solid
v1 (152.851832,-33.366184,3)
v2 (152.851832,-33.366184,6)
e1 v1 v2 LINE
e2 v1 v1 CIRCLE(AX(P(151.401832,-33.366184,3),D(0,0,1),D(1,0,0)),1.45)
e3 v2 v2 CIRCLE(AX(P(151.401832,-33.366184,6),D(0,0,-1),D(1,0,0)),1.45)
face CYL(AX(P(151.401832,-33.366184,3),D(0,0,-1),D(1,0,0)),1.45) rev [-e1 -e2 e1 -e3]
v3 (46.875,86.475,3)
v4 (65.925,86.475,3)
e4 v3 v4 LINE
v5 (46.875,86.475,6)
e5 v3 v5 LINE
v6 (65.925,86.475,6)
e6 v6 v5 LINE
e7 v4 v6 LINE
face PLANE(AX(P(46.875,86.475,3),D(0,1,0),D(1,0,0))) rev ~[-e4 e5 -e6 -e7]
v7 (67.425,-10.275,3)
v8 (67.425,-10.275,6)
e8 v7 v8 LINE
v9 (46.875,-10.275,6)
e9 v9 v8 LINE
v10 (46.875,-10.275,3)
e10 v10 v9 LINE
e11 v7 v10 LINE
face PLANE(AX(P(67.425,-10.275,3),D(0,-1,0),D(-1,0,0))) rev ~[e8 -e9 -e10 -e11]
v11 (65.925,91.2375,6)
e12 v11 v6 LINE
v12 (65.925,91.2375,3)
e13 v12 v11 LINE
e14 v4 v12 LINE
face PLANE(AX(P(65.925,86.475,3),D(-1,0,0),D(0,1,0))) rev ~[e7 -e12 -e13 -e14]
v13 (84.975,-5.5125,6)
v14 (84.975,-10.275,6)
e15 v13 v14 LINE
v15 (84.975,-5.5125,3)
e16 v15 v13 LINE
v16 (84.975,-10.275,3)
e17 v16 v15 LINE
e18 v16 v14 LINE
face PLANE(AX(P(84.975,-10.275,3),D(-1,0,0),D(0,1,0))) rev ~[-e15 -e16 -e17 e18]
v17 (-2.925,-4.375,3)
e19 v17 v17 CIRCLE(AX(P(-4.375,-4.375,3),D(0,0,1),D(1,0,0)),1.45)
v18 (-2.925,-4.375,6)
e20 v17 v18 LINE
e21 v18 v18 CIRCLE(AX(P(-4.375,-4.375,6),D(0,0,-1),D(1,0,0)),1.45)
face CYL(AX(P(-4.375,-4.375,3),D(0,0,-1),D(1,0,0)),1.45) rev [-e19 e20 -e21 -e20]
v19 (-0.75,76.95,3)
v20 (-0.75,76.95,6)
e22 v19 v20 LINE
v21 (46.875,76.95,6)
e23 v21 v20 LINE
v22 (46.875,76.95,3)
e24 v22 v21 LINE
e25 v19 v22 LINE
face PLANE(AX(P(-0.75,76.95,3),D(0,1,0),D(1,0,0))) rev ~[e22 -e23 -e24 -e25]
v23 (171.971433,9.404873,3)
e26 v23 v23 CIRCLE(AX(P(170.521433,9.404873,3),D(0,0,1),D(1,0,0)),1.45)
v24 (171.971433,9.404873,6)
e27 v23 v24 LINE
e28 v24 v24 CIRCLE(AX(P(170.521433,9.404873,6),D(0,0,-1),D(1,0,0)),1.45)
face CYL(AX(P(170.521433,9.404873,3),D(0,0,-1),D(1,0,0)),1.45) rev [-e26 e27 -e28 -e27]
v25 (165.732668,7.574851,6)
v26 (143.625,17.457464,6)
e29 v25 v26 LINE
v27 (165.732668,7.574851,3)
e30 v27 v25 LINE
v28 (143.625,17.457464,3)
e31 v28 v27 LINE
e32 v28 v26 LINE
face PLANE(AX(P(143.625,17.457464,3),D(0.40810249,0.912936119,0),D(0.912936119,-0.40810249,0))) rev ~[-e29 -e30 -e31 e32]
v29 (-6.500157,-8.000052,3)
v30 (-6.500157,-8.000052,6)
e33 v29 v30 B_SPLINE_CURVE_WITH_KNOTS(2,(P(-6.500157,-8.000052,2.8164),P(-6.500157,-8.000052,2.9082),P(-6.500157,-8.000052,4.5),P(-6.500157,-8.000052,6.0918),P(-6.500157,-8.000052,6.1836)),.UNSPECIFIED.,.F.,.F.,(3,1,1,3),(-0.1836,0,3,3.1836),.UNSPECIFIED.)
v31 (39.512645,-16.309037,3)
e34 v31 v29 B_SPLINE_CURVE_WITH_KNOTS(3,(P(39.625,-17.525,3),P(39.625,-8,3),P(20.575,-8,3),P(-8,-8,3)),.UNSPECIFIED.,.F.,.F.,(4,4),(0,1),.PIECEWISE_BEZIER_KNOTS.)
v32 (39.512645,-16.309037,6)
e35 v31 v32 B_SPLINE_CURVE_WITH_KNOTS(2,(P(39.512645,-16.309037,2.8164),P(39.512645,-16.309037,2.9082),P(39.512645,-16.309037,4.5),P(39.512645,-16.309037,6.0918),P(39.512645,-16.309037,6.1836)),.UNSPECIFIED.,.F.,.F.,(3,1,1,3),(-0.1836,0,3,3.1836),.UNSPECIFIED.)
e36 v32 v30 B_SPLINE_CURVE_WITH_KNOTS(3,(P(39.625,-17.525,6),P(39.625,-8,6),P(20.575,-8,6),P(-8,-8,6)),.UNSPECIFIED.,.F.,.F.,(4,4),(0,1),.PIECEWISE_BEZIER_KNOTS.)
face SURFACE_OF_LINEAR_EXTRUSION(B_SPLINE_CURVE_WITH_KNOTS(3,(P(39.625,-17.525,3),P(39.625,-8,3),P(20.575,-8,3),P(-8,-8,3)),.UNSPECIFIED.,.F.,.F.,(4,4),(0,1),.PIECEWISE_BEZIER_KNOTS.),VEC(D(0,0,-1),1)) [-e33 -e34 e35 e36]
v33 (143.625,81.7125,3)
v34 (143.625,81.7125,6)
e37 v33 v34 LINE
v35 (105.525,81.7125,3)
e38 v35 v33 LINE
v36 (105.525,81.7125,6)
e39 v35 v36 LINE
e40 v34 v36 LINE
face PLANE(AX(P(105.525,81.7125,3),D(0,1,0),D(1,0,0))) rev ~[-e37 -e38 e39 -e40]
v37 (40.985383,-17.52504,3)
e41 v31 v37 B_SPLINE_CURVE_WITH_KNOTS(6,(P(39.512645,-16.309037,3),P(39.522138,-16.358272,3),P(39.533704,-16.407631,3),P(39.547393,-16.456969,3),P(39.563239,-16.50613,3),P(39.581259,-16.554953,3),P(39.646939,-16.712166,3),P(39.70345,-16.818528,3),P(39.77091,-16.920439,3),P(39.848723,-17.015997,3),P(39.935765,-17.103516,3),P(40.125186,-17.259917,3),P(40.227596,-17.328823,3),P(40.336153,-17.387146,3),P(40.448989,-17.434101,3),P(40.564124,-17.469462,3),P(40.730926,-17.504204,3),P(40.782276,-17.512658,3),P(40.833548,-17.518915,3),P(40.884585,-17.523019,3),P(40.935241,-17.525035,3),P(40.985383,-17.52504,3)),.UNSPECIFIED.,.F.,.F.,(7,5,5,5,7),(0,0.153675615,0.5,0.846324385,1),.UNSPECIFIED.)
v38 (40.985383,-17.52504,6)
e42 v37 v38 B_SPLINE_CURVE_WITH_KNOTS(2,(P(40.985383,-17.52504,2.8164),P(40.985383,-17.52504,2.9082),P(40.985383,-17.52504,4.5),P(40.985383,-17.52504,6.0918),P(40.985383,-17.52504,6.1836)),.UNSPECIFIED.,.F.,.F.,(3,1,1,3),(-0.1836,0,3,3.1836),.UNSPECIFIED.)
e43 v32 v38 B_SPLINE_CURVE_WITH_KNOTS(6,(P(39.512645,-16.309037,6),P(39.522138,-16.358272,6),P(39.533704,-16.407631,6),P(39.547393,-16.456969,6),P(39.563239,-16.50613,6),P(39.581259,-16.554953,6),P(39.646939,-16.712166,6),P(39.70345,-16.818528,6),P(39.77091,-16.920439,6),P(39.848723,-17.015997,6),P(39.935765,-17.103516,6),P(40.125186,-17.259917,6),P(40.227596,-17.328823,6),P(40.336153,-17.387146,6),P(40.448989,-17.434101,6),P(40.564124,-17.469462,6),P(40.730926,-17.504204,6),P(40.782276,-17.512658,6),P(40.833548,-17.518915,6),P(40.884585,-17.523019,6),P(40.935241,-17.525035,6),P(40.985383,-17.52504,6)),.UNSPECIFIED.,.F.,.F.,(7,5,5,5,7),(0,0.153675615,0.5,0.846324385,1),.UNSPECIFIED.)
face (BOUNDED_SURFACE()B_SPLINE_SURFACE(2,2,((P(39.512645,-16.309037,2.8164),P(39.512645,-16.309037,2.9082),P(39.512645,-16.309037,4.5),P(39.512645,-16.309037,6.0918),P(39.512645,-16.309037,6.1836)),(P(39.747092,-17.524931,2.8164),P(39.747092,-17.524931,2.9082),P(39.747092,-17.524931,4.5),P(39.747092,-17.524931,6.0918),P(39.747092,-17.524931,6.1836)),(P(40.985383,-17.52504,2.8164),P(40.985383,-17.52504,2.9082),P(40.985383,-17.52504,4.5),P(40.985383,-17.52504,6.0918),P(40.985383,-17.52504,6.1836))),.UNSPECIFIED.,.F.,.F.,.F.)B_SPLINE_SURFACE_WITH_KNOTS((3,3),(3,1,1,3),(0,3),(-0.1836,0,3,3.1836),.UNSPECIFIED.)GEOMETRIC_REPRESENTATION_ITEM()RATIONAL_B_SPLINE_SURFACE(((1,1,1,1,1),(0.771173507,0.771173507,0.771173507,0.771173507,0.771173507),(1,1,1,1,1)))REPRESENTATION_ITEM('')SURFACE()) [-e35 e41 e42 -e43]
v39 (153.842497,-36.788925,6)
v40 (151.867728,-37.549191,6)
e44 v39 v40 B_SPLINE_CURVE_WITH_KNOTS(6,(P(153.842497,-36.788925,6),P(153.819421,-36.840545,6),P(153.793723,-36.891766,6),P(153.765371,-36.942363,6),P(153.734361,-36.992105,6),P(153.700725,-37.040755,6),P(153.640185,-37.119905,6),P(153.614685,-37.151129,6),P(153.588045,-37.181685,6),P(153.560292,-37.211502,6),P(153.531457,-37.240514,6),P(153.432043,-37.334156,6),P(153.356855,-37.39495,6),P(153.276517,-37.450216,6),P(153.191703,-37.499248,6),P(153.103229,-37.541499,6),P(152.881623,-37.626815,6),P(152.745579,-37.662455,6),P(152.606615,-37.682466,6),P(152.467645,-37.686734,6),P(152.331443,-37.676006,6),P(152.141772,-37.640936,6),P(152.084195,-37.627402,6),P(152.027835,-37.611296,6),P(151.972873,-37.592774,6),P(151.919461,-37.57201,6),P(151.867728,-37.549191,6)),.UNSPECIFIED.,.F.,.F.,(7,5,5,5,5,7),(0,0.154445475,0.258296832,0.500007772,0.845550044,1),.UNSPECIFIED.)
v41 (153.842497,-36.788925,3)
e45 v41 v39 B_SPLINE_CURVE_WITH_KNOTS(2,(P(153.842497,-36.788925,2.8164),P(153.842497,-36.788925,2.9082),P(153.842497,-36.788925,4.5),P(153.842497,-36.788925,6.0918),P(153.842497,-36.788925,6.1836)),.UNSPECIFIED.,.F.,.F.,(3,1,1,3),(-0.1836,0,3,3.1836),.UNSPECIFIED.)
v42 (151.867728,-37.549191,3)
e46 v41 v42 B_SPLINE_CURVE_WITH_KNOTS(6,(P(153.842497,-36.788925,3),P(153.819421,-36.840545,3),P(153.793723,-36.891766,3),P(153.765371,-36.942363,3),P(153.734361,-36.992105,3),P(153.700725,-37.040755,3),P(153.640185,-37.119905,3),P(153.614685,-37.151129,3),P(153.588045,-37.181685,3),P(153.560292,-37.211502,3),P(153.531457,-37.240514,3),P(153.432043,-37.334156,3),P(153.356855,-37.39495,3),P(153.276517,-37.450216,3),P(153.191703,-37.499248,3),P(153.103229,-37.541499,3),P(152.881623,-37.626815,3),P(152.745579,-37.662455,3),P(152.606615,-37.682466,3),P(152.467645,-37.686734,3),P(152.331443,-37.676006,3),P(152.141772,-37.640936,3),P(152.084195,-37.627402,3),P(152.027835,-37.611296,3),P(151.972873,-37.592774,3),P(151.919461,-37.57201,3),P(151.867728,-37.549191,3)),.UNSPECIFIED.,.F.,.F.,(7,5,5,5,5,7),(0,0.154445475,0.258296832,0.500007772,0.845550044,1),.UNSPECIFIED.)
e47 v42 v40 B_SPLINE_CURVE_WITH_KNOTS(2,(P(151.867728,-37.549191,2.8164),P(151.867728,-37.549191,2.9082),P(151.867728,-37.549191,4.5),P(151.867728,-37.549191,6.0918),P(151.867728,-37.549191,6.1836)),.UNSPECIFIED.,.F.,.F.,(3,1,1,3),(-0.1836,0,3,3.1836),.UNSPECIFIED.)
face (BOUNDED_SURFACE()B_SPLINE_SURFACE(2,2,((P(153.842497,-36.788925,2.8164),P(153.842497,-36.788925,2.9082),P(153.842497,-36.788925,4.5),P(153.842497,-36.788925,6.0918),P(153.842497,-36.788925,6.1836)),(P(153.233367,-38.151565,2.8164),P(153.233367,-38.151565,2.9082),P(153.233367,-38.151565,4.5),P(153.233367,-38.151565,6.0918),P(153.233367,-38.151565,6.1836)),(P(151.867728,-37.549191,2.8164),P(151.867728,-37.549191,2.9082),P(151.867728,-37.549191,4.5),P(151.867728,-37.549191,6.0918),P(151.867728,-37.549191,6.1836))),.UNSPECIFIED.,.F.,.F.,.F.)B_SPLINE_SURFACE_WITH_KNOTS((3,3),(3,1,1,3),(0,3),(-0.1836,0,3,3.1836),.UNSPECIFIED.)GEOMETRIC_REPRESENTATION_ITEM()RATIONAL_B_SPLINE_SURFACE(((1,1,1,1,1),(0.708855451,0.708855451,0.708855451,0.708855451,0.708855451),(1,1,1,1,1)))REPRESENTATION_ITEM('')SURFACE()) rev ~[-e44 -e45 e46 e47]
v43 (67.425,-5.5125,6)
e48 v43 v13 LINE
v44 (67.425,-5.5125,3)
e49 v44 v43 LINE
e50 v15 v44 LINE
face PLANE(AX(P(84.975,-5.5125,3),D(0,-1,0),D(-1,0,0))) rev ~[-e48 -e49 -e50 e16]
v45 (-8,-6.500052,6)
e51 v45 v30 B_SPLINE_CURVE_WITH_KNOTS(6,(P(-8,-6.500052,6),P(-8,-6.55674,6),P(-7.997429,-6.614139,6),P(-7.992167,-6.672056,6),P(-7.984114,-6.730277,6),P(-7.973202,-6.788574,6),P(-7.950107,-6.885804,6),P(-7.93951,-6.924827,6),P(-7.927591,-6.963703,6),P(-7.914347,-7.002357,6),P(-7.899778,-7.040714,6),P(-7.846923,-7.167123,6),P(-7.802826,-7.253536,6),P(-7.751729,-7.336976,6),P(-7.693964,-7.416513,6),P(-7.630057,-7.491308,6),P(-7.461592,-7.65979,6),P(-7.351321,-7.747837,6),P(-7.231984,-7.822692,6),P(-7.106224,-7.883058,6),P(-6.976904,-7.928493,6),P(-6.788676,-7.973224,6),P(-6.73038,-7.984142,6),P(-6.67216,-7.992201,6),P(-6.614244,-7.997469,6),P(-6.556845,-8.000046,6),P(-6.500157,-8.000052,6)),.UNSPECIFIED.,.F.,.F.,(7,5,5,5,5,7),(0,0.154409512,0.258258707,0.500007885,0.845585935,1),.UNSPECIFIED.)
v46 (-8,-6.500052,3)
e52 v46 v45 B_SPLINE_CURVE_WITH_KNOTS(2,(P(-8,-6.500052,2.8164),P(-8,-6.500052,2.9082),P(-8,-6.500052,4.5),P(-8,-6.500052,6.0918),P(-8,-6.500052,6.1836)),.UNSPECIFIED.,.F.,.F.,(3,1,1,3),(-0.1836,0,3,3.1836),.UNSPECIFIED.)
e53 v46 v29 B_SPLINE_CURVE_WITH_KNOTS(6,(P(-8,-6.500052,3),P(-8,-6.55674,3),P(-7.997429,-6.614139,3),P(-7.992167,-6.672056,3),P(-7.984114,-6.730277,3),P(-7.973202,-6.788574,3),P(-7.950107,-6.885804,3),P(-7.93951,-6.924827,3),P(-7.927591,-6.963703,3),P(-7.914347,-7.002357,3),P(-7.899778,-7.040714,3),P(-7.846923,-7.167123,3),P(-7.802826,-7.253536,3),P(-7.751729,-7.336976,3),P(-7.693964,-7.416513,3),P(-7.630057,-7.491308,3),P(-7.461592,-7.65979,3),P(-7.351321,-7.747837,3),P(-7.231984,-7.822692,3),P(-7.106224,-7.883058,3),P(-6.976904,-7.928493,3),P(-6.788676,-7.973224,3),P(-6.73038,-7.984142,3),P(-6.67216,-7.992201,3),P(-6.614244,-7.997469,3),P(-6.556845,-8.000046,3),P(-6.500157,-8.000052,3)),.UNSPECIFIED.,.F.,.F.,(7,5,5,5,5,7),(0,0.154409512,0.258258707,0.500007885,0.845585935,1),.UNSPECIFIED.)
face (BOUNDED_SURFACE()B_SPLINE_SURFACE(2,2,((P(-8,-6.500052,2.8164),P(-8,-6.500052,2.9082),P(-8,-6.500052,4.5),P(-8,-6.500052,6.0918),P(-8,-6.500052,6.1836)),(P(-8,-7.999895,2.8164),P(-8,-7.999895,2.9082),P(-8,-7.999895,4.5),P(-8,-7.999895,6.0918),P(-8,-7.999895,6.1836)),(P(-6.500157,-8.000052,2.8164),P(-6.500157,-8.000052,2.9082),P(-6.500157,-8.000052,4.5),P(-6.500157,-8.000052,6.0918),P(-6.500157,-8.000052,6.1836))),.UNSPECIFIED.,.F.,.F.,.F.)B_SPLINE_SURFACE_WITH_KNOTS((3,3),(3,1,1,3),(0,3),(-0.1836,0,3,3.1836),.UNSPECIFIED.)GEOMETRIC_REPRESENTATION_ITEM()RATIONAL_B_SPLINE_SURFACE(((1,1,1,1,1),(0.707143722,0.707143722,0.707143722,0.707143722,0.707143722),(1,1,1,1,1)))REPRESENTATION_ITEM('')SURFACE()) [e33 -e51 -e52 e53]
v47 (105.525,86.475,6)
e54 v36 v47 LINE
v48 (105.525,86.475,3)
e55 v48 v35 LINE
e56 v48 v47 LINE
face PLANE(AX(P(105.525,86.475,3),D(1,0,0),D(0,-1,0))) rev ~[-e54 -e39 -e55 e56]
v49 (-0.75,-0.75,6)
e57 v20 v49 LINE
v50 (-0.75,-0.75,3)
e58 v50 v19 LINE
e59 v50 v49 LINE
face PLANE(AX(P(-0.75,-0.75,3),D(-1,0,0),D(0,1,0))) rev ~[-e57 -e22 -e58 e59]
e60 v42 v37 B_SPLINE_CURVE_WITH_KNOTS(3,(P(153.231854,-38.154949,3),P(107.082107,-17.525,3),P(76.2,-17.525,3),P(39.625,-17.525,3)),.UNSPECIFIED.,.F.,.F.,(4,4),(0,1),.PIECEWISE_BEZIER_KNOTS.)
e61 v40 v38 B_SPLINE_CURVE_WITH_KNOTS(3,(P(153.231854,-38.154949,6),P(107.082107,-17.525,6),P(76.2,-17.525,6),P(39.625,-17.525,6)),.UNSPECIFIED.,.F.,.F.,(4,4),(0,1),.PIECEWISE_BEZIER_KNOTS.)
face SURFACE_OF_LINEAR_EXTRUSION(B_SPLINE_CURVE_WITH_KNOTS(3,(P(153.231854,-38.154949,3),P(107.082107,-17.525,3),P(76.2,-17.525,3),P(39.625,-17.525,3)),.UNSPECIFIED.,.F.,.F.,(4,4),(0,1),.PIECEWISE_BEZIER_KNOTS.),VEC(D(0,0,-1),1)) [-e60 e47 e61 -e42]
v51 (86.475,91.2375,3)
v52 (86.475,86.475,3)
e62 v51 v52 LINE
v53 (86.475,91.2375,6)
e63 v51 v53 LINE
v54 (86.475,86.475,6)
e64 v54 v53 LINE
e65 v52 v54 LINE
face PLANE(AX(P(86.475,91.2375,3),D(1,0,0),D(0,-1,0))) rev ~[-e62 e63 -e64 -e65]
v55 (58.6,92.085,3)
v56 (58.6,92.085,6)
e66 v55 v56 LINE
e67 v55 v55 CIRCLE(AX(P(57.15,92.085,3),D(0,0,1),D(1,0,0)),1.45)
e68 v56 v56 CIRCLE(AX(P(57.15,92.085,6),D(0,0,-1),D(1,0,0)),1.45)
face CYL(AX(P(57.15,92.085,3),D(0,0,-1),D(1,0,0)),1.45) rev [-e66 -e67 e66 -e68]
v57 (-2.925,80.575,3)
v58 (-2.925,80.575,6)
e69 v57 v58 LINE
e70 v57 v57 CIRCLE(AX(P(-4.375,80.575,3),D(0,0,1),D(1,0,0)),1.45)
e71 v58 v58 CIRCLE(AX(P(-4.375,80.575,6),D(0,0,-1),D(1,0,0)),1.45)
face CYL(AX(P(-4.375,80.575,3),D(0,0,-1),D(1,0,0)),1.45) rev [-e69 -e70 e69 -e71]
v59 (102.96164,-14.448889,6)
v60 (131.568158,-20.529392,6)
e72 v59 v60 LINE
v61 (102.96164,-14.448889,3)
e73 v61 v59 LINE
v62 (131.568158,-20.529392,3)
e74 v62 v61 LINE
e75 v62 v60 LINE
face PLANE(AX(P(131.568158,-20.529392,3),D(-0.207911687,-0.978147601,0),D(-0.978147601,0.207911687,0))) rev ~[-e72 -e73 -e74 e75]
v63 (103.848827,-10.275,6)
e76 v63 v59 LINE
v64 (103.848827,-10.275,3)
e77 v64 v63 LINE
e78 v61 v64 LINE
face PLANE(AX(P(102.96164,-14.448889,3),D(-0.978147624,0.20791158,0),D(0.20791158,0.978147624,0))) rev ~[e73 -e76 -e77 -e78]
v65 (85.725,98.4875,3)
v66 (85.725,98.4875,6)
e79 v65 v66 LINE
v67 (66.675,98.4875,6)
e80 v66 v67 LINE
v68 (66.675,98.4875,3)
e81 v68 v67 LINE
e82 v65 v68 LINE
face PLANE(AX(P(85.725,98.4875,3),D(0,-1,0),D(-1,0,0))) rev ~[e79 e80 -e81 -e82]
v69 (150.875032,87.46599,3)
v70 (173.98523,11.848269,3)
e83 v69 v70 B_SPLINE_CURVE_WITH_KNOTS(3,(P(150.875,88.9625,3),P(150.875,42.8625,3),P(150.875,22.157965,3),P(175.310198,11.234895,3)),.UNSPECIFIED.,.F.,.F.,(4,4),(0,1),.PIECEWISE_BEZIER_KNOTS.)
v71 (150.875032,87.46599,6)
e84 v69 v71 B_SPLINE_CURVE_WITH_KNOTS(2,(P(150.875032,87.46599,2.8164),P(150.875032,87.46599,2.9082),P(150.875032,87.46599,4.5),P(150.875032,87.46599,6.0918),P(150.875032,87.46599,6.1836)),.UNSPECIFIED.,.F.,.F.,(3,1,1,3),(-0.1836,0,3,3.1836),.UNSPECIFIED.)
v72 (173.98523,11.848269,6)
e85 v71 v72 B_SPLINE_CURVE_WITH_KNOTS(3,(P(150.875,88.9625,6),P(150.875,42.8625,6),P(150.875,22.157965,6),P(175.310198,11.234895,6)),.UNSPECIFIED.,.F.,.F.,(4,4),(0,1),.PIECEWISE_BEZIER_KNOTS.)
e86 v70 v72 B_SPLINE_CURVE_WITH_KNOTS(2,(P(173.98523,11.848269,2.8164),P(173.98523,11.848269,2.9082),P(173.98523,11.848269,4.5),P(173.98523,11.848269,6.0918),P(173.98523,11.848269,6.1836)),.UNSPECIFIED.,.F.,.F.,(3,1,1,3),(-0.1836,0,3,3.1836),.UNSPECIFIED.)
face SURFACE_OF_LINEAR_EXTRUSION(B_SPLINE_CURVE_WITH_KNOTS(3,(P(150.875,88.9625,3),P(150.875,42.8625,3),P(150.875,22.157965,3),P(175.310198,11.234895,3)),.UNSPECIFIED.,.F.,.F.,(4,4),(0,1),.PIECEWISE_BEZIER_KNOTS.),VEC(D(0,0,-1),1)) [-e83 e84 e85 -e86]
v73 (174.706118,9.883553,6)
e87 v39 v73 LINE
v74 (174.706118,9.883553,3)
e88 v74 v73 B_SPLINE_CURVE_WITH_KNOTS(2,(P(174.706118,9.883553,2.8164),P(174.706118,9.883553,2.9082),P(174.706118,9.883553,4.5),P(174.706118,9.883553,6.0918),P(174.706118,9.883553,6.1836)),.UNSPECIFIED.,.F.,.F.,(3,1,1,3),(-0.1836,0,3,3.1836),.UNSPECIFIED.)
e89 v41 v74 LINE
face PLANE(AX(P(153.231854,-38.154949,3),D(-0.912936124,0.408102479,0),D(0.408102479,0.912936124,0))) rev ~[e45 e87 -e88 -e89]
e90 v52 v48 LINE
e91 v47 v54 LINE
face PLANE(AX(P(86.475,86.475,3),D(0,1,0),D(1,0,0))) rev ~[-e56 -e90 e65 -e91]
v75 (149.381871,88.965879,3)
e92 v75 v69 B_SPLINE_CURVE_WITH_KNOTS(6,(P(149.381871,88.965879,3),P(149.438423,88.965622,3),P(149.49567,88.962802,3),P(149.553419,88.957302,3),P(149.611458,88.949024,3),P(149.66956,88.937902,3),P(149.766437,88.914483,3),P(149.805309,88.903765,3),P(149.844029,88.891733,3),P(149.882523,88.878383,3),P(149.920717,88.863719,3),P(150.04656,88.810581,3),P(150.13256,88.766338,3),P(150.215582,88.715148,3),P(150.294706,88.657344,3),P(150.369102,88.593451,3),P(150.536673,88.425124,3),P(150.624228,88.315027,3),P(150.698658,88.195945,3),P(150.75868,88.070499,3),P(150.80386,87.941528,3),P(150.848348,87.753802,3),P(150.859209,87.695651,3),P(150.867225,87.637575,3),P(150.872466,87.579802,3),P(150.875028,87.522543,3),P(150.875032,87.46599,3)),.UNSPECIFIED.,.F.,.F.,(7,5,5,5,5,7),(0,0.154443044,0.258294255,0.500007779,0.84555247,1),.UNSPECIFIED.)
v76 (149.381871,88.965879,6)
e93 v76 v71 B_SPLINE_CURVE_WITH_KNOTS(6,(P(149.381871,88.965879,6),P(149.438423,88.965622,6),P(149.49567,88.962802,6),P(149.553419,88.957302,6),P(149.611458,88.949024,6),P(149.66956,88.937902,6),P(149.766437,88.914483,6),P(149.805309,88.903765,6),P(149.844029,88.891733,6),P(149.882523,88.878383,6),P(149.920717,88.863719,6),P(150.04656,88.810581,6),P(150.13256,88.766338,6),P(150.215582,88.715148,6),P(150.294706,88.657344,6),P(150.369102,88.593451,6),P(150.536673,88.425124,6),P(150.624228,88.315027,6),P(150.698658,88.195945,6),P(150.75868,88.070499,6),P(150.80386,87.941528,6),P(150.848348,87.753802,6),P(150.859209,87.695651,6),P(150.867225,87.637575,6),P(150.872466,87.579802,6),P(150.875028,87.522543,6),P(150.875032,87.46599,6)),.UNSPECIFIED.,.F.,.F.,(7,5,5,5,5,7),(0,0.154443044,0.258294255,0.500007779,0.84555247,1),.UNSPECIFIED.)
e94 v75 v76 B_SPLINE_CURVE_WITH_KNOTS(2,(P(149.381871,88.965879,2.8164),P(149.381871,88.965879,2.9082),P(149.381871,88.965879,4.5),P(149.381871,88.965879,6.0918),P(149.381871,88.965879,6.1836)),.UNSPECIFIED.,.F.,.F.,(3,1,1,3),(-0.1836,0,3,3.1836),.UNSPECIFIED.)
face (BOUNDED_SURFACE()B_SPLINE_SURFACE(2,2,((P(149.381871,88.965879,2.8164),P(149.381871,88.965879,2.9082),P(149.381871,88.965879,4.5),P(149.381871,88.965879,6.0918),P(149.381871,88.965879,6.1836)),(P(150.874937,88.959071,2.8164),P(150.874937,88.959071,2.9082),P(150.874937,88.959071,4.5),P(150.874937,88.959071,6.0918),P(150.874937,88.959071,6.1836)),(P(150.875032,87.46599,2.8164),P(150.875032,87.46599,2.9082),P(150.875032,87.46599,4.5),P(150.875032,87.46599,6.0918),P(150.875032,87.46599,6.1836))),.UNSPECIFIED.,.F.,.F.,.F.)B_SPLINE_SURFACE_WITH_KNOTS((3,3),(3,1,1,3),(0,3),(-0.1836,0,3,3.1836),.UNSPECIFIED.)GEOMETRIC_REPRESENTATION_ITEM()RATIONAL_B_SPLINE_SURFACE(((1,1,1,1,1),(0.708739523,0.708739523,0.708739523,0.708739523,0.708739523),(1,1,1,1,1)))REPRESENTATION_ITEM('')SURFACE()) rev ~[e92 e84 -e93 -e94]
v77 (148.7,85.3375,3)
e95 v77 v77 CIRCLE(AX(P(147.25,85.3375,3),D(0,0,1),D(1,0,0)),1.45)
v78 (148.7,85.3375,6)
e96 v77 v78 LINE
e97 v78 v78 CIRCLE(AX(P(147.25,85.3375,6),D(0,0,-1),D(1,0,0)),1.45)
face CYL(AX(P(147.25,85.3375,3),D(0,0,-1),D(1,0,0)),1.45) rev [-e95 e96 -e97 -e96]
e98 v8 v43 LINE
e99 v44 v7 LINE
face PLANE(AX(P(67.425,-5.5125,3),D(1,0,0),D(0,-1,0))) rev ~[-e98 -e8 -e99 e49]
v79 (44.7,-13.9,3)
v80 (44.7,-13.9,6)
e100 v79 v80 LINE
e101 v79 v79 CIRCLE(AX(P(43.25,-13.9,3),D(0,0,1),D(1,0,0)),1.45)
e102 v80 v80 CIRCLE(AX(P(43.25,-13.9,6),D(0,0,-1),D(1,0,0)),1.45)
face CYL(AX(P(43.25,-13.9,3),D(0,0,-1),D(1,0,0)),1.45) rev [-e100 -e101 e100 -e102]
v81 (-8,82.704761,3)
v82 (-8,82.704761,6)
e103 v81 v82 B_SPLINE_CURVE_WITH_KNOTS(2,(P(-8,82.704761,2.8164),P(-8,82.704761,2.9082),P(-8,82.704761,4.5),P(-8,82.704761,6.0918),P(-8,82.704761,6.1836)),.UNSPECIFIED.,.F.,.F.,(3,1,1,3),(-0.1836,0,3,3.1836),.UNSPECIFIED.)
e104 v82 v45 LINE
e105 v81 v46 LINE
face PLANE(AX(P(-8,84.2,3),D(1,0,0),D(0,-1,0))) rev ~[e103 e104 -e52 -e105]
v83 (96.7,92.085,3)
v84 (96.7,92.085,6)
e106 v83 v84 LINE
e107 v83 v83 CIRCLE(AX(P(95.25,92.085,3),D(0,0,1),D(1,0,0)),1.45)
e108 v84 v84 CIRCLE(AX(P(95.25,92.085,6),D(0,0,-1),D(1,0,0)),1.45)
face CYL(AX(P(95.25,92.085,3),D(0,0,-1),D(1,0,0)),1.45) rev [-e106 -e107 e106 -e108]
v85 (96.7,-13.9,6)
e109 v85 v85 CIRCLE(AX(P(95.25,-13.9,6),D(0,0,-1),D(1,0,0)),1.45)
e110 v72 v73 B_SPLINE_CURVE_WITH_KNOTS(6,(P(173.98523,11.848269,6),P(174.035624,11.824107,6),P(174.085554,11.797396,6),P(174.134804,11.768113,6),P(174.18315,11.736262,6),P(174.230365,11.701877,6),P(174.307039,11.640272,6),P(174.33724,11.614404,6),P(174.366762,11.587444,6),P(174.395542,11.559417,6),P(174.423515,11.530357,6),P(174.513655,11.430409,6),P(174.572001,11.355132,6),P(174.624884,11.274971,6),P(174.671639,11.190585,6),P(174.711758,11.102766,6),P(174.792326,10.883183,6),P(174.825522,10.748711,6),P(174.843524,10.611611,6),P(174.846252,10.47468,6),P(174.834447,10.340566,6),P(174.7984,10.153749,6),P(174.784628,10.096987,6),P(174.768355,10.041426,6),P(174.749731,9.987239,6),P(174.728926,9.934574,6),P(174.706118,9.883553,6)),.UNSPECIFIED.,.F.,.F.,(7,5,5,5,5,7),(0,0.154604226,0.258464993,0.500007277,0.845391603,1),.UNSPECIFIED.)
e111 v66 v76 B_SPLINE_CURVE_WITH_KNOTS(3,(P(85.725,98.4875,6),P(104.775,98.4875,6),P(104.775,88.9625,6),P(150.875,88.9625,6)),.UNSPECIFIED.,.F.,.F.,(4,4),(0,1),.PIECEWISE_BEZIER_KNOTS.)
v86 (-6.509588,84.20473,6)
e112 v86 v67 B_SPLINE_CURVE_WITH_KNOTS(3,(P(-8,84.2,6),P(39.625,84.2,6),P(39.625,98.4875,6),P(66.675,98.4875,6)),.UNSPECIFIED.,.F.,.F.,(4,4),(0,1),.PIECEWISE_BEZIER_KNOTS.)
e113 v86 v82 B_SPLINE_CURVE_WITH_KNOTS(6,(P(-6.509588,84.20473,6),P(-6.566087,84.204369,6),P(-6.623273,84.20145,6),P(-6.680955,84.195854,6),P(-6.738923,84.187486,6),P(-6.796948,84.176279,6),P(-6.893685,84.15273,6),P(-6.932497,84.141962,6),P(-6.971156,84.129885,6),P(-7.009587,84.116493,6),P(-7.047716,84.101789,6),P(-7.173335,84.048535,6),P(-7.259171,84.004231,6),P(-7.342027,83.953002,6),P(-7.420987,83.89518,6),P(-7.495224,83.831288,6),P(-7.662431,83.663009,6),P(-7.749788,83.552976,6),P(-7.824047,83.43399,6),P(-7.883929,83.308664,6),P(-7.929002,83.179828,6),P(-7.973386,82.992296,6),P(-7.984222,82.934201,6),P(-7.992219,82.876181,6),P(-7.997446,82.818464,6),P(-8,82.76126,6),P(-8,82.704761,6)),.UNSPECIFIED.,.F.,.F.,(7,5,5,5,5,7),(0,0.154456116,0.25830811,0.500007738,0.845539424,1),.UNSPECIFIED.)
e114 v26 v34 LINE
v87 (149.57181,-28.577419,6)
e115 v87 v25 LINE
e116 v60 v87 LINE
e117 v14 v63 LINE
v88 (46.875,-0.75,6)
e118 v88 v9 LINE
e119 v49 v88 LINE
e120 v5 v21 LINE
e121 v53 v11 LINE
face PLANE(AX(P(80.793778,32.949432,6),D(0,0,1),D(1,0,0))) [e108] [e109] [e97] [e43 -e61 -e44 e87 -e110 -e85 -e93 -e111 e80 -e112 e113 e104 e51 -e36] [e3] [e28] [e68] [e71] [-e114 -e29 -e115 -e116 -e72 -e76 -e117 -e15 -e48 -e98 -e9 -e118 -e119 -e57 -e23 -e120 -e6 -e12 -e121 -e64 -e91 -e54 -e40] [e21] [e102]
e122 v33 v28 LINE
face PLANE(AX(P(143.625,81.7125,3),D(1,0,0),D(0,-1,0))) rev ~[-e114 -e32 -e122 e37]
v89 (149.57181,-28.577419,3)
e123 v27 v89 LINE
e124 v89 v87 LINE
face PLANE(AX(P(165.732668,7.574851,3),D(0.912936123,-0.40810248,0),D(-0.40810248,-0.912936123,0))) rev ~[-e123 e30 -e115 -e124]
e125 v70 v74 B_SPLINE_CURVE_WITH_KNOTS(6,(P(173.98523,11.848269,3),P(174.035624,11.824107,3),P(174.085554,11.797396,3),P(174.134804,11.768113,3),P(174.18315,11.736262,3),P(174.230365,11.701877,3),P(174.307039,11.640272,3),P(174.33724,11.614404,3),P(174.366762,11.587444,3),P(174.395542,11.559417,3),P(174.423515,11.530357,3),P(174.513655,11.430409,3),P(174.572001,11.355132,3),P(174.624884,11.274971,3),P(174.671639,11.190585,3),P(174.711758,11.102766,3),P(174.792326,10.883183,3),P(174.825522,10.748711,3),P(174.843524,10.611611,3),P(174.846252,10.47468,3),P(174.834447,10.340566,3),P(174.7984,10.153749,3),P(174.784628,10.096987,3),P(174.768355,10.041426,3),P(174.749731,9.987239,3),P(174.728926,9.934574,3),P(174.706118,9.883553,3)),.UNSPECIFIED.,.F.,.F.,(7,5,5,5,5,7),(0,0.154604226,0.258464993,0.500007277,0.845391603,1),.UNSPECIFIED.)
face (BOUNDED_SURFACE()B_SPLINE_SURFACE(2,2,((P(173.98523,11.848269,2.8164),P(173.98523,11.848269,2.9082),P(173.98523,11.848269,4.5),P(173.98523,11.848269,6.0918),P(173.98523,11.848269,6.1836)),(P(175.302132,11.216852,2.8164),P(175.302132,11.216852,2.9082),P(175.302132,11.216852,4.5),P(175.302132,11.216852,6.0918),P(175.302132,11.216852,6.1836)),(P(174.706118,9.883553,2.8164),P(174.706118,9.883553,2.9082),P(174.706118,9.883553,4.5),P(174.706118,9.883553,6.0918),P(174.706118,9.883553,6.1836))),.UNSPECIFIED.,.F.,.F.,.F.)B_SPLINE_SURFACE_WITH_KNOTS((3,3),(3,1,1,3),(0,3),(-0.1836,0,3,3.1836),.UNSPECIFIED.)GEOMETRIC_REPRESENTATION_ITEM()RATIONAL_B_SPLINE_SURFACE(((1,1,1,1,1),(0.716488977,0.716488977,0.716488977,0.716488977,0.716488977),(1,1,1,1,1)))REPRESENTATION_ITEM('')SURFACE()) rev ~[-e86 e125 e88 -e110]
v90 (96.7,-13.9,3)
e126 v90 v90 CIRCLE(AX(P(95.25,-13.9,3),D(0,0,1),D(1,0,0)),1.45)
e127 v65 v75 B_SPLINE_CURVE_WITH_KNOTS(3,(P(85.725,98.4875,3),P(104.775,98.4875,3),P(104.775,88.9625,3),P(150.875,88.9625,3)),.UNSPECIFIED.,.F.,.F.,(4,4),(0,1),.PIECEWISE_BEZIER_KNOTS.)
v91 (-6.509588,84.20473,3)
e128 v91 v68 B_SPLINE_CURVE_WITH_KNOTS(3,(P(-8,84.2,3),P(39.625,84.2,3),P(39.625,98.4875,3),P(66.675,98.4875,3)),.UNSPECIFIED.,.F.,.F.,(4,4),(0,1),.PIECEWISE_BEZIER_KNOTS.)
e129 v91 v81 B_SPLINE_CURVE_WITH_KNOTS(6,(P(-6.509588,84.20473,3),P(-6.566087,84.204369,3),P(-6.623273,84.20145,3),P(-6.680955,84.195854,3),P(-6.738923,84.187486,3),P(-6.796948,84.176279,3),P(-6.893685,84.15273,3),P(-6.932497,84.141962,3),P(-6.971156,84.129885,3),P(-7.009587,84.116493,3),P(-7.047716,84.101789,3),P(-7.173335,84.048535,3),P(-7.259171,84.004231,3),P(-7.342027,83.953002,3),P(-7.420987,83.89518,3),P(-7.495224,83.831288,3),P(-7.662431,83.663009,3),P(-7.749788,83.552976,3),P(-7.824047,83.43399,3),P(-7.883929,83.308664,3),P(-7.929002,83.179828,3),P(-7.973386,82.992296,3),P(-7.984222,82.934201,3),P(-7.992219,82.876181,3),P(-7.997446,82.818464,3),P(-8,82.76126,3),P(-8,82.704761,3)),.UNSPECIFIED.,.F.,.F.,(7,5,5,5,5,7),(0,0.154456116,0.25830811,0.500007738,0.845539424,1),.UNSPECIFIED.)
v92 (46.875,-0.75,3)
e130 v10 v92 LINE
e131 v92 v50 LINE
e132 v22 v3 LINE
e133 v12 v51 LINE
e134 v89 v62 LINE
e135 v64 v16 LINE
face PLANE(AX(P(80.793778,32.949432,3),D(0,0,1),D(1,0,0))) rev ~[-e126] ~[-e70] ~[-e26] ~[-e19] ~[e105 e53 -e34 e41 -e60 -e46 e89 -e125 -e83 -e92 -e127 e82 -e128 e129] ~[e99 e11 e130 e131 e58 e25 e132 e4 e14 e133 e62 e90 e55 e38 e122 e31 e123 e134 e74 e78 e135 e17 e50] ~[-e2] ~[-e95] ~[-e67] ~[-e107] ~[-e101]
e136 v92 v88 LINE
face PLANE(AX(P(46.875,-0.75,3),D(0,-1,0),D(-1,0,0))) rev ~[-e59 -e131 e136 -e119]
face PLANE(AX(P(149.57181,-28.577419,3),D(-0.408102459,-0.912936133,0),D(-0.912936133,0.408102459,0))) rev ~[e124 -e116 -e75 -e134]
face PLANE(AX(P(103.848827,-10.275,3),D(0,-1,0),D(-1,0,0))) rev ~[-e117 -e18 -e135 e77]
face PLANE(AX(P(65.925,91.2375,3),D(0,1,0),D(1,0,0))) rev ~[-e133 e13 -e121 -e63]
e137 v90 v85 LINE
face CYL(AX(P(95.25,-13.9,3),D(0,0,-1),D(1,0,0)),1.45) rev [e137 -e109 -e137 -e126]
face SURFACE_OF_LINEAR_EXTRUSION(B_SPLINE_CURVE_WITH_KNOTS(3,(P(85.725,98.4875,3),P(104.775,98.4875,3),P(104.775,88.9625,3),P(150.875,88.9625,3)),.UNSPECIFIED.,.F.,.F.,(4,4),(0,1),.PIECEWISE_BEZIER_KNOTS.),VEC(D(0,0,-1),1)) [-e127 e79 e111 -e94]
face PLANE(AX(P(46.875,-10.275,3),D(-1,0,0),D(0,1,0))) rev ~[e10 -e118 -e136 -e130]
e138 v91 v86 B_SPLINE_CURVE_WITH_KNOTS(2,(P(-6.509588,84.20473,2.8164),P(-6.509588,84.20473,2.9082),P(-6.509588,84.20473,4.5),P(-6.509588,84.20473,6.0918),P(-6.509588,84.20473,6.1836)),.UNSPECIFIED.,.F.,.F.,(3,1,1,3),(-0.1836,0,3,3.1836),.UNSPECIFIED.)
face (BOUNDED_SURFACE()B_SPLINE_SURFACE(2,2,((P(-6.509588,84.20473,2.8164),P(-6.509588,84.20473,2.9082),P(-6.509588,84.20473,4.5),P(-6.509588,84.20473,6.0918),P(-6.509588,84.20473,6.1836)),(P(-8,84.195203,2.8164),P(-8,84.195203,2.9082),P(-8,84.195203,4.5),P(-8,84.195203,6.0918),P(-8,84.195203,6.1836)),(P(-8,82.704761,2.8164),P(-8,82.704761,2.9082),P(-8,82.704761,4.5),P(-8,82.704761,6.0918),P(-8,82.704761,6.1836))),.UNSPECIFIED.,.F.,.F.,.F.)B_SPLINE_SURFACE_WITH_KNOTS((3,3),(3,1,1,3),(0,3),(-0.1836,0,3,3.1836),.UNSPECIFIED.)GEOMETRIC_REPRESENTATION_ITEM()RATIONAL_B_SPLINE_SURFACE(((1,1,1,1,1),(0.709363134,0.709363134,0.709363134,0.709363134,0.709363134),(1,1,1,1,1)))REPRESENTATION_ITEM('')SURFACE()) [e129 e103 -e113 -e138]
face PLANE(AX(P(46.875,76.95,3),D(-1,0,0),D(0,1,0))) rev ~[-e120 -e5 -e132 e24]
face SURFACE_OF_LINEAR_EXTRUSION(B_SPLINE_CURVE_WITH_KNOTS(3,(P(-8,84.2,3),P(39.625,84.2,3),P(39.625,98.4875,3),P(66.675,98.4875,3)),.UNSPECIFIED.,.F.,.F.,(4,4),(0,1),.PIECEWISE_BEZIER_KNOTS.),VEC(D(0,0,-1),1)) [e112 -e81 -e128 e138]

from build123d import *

# Parameters (mm, degrees)
PAD002_DEPTH    = 3
POCKET006_DEPTH = 5
SKETCH038_R     = 1.45
POCKET022_DEPTH = 16
FILLET001_R     = 1.5


with BuildPart() as part:
    # Sketch019 → Pad002 (new body)
    with BuildSketch(Plane.XY):
        with BuildLine():
            Line((85.725, 98.4875), (66.675, 98.4875))
            add(Edge.make_bspline(
                [(-8, 84.2), (39.625, 84.2), (39.625, 98.4875), (66.675, 98.4875)],
                knots=[0, 0, 0, 0, 1, 1, 1, 1], degree=3))
            Line((-8, 84.2), (-8, -8))
            add(Edge.make_bspline(
                [(39.625, -17.525), (39.625, -8), (20.575, -8), (-8, -8)],
                knots=[0, 0, 0, 0, 1, 1, 1, 1], degree=3))
            add(Edge.make_bspline(
                [(153.231854, -38.154949), (107.082107, -17.525), (76.2, -17.525), (39.625, -17.525)],
                knots=[0, 0, 0, 0, 1, 1, 1, 1], degree=3))
            Line((153.231854, -38.154949), (175.310198, 11.234895))
            add(Edge.make_bspline(
                [(150.875, 88.9625), (150.875, 42.8625), (150.875, 22.157965), (175.310198, 11.234895)],
                knots=[0, 0, 0, 0, 1, 1, 1, 1], degree=3))
            add(Edge.make_bspline(
                [(85.725, 98.4875), (104.775, 98.4875), (104.775, 88.9625), (150.875, 88.9625)],
                knots=[0, 0, 0, 0, 1, 1, 1, 1], degree=3))
        make_face()
    extrude(amount=PAD002_DEPTH)

    # Sketch020 (on Face9 of Pad) → Pocket006 (cut)
    with BuildSketch(Plane(origin=(0, 0, 0), x_dir=(1, 0, 0), z_dir=(0, 0, -1))):
        Polygon((-0.75, 0.75), (-0.75, -76.95), (46.875, -76.95), (46.875, -86.475), (65.925, -86.475), (65.925, -91.2375), (86.475, -91.2375), (86.475, -86.475), (105.525, -86.475), (105.525, -81.7125), (143.625, -81.7125), (143.625, -17.457464), (165.732668, -7.574851), (149.57181, 28.577419), (131.568158, 20.529392), (102.96164, 14.448889), (103.848827, 10.275), (84.975, 10.275), (84.975, 5.5125), (67.425, 5.5125), (67.425, 10.275), (46.875, 10.275), (46.875, 0.75), align=None)
    extrude(amount=-POCKET006_DEPTH, mode=Mode.SUBTRACT)

    # Sketch038 → Pocket022 (cut)
    with BuildSketch(Plane.XY):
        with Locations((-4.375, -4.375)):
            Circle(SKETCH038_R)
        with Locations((-4.375, 80.575)):
            Circle(SKETCH038_R)
        with Locations((151.401832, -33.366184)):
            Circle(SKETCH038_R)
        with Locations((170.521433, 9.404873)):
            Circle(SKETCH038_R)
        with Locations((147.25, 85.3375)):
            Circle(SKETCH038_R)
        with Locations((43.25, -13.9)):
            Circle(SKETCH038_R)
        with Locations((57.15, 92.085)):
            Circle(SKETCH038_R)
        with Locations((95.25, 92.085)):
            Circle(SKETCH038_R)
        with Locations((95.25, -13.9)):
            Circle(SKETCH038_R)
    extrude(amount=POCKET022_DEPTH, mode=Mode.SUBTRACT)

    # Fillet001
    fillet001_edges = [part.edges().sort_by_distance(p)[0] for p in [
        (-8, -8, 1.5),
        (39.625, -17.525, 1.5),
        (153.231854, -38.154949, 1.5),
        (175.310198, 11.234895, 1.5),
        (150.875, 88.9625, 1.5),
        (-8, 84.2, 1.5),
    ]]
    fillet(fillet001_edges, radius=FILLET001_R)


with BuildPart() as part_1:
    # Body002 placement: moved
    add(part.part.moved(Location((0, 0, 3))))


solid = part_1.part
